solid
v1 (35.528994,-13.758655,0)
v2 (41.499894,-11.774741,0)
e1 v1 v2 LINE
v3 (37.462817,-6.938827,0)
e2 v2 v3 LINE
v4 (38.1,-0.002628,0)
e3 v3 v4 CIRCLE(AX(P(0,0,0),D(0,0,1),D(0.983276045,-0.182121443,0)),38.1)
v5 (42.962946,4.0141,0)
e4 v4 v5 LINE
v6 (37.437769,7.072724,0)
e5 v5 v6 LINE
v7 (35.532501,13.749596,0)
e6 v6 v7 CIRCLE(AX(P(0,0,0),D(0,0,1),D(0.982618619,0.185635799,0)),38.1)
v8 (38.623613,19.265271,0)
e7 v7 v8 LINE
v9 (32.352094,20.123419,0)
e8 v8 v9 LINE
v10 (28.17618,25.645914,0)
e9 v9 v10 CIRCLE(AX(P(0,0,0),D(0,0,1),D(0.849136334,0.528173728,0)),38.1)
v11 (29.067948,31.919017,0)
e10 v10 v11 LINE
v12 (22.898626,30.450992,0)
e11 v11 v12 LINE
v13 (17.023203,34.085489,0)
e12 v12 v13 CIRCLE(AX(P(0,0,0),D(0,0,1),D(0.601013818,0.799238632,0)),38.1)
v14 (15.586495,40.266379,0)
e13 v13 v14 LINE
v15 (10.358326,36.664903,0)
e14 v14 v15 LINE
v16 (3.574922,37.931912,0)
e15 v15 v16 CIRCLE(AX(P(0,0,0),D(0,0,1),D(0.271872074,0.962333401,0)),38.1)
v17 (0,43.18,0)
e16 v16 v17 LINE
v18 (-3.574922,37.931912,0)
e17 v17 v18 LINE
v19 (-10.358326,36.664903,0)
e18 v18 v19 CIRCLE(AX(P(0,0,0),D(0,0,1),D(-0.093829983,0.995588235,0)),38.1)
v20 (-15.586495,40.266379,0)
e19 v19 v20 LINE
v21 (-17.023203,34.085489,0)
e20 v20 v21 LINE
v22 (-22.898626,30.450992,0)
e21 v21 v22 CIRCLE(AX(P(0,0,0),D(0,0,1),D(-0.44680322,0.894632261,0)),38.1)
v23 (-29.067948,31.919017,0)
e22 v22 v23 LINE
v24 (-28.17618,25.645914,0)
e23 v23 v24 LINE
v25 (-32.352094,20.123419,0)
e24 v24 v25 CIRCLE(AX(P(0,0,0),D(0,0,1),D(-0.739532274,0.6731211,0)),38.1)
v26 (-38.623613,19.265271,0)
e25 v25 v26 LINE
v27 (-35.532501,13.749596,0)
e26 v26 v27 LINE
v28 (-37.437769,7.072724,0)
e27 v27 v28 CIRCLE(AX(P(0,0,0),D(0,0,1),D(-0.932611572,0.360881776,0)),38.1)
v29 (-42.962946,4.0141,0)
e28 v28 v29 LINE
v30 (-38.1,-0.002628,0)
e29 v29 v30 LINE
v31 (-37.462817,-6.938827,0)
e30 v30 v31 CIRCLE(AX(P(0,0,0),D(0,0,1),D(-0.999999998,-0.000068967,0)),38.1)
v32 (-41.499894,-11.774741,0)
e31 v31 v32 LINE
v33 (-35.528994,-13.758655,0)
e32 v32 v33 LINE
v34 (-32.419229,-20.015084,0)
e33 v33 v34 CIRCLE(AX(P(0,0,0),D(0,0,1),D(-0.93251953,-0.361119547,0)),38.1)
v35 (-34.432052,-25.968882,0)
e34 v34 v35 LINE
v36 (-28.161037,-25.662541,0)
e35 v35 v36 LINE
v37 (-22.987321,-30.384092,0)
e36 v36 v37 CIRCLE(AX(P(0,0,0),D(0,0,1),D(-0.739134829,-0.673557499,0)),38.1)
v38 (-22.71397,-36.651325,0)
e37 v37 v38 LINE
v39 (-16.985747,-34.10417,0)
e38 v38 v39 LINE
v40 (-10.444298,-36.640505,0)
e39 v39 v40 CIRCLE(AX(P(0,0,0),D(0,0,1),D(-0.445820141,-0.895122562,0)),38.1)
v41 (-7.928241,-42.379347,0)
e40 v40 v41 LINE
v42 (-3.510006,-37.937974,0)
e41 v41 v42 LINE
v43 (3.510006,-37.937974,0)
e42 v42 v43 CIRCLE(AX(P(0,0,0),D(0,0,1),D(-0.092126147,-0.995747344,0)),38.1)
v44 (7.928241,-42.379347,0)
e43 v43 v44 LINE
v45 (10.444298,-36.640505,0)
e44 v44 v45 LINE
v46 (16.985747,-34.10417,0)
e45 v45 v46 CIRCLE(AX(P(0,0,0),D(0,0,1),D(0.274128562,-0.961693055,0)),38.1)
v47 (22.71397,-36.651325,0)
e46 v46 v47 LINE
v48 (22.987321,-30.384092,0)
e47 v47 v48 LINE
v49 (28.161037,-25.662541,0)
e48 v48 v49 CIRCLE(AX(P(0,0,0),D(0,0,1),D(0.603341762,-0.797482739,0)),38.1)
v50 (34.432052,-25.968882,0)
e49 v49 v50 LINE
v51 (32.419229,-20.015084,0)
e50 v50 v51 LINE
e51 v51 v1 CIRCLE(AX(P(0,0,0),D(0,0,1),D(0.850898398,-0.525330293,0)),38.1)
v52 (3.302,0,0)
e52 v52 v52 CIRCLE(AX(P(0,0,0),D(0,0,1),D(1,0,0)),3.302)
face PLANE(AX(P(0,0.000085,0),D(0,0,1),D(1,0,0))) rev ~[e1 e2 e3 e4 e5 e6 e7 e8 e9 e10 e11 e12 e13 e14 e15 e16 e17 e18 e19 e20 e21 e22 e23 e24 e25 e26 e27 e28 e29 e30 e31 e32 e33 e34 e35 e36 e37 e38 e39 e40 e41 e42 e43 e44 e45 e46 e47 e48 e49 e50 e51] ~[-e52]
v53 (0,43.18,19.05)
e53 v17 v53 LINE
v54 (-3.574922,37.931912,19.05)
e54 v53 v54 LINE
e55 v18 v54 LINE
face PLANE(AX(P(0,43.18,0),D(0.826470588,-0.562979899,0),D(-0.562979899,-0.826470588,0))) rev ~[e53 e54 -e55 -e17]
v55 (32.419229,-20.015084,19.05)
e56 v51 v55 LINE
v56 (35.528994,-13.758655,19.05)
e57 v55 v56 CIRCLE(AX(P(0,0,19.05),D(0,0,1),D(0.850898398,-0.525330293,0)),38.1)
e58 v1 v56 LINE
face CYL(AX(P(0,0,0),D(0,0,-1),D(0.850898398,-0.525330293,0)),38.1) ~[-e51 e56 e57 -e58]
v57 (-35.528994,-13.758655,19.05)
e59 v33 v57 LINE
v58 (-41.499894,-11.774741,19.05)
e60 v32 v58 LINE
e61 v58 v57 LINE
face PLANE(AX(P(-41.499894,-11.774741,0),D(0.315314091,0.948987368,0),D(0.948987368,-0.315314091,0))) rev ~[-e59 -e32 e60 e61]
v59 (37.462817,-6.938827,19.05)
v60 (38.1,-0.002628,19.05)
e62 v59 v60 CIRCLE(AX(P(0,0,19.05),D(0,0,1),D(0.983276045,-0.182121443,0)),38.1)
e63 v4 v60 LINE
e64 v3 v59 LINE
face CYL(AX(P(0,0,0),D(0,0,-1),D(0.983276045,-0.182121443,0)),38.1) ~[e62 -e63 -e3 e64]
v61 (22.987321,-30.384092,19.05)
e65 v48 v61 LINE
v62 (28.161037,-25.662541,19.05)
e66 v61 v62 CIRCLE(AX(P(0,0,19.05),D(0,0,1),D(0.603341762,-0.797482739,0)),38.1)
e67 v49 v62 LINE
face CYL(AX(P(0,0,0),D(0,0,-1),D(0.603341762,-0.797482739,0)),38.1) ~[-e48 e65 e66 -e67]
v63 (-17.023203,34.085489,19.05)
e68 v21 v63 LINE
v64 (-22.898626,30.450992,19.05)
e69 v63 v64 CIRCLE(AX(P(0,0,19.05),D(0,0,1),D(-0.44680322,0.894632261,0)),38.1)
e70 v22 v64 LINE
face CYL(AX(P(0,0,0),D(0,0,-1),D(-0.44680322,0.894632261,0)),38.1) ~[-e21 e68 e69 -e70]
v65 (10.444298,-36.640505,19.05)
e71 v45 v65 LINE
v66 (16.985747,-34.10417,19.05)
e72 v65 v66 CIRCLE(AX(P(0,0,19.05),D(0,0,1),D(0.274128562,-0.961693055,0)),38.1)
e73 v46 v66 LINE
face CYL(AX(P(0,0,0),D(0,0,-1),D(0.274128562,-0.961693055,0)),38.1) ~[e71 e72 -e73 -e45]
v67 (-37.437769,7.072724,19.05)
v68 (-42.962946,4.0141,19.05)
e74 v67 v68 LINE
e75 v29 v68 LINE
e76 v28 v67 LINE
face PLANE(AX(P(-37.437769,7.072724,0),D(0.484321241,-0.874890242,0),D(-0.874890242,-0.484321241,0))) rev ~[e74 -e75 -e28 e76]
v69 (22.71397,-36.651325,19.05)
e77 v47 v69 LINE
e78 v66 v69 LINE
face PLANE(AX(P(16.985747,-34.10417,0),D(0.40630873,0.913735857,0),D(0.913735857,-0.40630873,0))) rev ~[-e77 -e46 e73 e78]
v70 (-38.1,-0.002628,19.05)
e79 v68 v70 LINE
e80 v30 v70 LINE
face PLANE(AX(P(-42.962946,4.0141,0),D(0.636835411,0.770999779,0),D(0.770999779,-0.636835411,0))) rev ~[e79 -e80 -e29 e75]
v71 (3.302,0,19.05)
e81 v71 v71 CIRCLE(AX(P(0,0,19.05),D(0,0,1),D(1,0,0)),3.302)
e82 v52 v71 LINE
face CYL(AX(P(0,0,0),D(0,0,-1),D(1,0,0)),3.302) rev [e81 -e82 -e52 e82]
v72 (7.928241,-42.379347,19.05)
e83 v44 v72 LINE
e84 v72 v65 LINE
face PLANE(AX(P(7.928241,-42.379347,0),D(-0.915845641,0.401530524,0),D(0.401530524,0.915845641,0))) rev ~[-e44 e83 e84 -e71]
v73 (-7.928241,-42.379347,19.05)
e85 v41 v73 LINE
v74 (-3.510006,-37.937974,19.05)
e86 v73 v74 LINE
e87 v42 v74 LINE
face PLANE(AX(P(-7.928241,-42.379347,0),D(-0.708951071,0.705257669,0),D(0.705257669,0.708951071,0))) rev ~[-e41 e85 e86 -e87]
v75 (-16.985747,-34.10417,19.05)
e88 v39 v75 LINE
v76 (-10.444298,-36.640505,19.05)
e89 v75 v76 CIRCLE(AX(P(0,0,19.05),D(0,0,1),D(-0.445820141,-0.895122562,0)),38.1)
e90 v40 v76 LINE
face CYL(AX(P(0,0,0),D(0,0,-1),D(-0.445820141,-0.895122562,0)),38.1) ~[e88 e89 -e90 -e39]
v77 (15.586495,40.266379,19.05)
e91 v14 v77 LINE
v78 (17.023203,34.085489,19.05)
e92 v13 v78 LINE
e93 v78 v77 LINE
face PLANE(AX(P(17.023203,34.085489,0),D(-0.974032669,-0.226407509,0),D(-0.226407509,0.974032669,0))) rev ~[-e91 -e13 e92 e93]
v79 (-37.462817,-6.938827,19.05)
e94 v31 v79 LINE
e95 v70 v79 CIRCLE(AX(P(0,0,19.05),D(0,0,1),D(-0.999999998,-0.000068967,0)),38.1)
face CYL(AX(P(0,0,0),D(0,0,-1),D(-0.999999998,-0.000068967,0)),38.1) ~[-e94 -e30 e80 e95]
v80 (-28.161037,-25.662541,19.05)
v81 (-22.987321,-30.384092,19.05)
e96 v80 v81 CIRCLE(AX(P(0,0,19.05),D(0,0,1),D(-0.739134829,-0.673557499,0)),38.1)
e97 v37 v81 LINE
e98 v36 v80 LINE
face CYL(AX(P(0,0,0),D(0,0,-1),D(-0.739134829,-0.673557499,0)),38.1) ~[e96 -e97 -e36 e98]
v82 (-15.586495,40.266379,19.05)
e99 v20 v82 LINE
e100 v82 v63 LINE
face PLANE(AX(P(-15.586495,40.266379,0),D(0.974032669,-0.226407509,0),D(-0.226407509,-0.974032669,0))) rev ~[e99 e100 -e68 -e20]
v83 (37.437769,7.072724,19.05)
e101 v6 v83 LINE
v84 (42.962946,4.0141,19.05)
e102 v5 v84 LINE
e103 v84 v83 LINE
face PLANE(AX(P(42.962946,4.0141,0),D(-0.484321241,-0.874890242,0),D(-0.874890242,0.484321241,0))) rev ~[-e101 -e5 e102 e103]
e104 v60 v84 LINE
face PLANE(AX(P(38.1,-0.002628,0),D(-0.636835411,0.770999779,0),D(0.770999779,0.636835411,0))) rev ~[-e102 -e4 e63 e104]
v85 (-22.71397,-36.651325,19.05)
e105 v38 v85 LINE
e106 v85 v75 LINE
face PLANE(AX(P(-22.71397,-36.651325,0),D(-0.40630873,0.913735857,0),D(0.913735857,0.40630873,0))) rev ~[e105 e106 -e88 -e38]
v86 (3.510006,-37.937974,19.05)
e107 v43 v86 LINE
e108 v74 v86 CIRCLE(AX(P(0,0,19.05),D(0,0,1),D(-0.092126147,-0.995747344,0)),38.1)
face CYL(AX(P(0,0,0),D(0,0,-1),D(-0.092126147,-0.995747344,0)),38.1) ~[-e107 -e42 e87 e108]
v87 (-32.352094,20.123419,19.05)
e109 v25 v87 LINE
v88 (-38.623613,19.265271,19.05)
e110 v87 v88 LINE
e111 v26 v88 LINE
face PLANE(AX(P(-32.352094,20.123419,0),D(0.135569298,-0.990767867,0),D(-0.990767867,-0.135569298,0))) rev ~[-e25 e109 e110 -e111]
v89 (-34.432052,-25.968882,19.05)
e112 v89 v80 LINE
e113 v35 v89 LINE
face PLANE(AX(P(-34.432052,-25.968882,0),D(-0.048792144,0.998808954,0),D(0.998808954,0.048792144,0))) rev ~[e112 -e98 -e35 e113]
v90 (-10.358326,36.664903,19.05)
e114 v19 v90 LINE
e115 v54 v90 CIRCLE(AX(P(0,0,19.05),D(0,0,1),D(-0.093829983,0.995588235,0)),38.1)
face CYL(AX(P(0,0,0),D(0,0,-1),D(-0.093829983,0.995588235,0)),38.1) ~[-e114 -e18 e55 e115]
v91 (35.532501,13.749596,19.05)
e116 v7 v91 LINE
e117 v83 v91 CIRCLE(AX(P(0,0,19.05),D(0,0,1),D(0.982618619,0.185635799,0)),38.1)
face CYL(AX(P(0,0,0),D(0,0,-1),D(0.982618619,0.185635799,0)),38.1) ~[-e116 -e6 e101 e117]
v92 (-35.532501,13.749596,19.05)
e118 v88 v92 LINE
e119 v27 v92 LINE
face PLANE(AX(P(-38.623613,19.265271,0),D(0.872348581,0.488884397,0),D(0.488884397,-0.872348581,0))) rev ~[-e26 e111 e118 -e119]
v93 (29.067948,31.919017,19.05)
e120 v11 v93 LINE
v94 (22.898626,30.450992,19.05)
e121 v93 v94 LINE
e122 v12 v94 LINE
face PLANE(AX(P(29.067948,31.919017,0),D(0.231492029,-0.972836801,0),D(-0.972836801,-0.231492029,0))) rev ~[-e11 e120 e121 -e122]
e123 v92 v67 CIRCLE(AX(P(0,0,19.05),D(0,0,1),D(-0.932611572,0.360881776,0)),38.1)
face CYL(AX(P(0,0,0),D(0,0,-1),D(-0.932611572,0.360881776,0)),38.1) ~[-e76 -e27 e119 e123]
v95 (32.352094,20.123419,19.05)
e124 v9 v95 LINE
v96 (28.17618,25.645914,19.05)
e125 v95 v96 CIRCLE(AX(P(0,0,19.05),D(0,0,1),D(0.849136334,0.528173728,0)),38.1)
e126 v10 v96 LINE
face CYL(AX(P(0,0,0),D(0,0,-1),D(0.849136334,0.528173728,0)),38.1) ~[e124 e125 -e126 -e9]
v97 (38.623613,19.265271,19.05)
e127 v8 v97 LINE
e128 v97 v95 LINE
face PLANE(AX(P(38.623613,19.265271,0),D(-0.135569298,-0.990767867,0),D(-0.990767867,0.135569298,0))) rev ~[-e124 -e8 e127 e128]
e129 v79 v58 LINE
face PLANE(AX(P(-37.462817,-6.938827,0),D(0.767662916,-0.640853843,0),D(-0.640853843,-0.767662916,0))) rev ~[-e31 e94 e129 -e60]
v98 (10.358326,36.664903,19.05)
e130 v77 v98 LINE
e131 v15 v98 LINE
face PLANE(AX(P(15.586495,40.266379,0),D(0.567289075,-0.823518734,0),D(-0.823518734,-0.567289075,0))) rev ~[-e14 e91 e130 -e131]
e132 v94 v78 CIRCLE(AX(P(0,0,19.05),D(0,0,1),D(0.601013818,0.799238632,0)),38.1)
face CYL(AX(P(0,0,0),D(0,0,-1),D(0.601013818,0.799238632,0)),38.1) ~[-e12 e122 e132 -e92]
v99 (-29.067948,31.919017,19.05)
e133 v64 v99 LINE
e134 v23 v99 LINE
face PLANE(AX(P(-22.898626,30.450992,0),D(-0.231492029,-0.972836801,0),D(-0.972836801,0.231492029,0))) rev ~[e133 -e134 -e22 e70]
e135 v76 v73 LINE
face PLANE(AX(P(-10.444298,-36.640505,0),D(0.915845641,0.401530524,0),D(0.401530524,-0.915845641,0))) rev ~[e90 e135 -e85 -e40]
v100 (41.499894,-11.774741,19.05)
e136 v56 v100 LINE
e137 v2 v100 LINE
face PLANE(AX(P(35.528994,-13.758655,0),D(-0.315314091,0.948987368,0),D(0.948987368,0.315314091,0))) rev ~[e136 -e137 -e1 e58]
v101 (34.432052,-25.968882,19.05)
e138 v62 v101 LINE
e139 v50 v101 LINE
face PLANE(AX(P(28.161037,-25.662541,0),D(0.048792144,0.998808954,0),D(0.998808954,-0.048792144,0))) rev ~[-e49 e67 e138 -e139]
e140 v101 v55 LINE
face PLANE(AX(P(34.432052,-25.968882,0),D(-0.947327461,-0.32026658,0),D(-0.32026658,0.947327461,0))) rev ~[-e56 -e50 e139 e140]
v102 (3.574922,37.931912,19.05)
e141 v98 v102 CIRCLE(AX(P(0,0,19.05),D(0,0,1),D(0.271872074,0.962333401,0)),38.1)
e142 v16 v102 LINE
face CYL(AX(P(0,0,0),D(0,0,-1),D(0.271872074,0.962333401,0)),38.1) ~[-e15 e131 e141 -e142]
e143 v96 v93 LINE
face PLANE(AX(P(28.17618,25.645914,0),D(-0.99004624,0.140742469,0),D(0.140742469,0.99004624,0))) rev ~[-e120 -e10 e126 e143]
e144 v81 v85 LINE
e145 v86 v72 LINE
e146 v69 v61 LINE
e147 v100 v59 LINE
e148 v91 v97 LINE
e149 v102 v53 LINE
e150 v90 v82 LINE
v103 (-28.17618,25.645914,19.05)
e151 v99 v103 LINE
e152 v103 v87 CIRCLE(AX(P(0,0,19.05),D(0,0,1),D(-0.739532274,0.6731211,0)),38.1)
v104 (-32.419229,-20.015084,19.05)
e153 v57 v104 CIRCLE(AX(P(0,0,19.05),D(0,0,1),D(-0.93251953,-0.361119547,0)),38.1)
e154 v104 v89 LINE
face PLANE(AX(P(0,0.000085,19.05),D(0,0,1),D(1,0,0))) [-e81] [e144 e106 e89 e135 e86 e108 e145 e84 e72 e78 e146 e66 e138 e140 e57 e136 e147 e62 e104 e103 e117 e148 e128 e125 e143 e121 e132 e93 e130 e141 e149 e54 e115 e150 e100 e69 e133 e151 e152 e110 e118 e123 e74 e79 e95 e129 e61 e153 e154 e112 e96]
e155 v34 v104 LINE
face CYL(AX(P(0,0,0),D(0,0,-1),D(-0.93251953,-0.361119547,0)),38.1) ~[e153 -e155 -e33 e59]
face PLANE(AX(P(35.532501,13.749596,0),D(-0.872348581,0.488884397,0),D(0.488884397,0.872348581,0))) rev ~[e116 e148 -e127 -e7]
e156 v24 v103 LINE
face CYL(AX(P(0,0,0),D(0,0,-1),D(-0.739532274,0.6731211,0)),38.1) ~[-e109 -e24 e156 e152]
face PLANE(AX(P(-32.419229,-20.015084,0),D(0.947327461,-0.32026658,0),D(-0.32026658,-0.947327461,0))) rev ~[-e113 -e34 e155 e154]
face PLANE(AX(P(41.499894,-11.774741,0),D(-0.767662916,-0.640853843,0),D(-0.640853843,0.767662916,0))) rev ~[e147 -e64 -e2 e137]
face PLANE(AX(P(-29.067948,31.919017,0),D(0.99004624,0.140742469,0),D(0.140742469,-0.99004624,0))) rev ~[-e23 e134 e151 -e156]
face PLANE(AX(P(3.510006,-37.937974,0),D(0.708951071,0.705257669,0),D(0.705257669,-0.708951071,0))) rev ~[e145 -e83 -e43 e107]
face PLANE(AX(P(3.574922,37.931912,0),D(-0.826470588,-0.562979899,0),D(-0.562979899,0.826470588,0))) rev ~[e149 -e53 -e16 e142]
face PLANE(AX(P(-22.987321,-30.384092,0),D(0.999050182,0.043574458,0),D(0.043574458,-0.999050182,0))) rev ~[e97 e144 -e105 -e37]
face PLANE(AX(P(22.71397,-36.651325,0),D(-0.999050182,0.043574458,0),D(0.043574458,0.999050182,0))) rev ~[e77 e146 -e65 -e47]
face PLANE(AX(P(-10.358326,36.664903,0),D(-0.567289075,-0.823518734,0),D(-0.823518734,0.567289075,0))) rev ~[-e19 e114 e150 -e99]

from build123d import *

# Parameters (mm, degrees)
F0_R     = 3.302
F1_DEPTH = 19.05


with BuildPart() as f1:
    # F0 (on Top) → F1 (new body)
    with BuildSketch(Plane.XY):
        with BuildLine():
            ThreePointArc((10.3583260114, 36.6649025942), (6.9953685106, 37.4523005889), (3.5749223592, 37.9319117647))
            ThreePointArc((3.5749223592, 37.9319117647), (1.7894359118, 38.0579547417), (0, 38.1))
            ThreePointArc((0, 38.1), (-1.7894359118, 38.0579547417), (-3.5749223592, 37.9319117647))
            ThreePointArc((-3.5749223592, 37.9319117647), (-6.9953685106, 37.4523005889), (-10.3583260114, 36.6649025942))
            ThreePointArc((-10.3583260114, 36.6649025942), (-12.0685716334, 36.1380627418), (-13.7521919191, 35.5314961326))
            ThreePointArc((-13.7521919191, 35.5314961326), (-15.4046733923, 34.8468942329), (-17.0232026859, 34.0854891459))
            ThreePointArc((-17.0232026859, 34.0854891459), (-20.043465356, 32.4016897171), (-22.8986264736, 30.450991866))
            ThreePointArc((-22.8986264736, 30.450991866), (-24.3017474593, 29.3433990946), (-25.6513716497, 28.1712110583))
            ThreePointArc((-25.6513716497, 28.1712110583), (-26.9433776908, 26.9381587829), (-28.1761796584, 25.6459139017))
            ThreePointArc((-28.1761796584, 25.6459139017), (-30.3898416418, 22.9797198631), (-32.3520943167, 20.1234190266))
            ThreePointArc((-32.3520943167, 20.1234190266), (-33.2587932077, 18.5866262234), (-34.0925451571, 17.0090671323))
            ThreePointArc((-34.0925451571, 17.0090671323), (-34.850649889, 15.3961749248), (-35.5325008857, 13.7495956597))
            ThreePointArc((-35.5325008857, 13.7495956597), (-36.6375523151, 10.4546525701), (-37.4377693794, 7.0727239376))
            ThreePointArc((-37.4377693794, 7.0727239376), (-37.7272799225, 5.3162345369), (-37.9344264404, 3.548139039))
            ThreePointArc((-37.9344264404, 3.548139039), (-38.0586453199, 1.7746876952), (-38.0999999094, -0.002627639))
            ThreePointArc((-38.0999999094, -0.002627639), (-37.9402497555, -3.4853189945), (-37.4628173003, -6.938826985))
            ThreePointArc((-37.4628173003, -6.938826985), (-37.0988170111, -8.6768529074), (-36.6542295707, -10.3960307125))
            ThreePointArc((-36.6542295707, -10.3960307125), (-36.1307521934, -12.0904402708), (-35.5289940754, -13.7586547304))
            ThreePointArc((-35.5289940754, -13.7586547304), (-34.1178249717, -16.9583023679), (-32.4192289635, -20.015084147))
            ThreePointArc((-32.4192289635, -20.015084147), (-31.4537756655, -21.5004650271), (-30.4203176662, -22.939360782))
            ThreePointArc((-30.4203176662, -22.939360782), (-29.3223073038, -24.3271924887), (-28.1610369919, -25.6625407071))
            ThreePointArc((-28.1610369919, -25.6625407071), (-25.6829106001, -28.1424608573), (-22.9873211216, -30.3840923454))
            ThreePointArc((-22.9873211216, -30.3840923454), (-21.5527887081, -31.4179454915), (-20.0718320683, -32.3841250835))
            ThreePointArc((-20.0718320683, -32.3841250835), (-18.5487381489, -33.279938598), (-16.9857473781, -34.1041696279))
            ThreePointArc((-16.9857473781, -34.1041696279), (-13.7735289525, -35.5232304302), (-10.4442981946, -36.6405053898))
            ThreePointArc((-10.4442981946, -36.6405053898), (-8.7349433821, -37.0851825412), (-7.0068164437, -37.4501605247))
            ThreePointArc((-7.0068164437, -37.4501605247), (-5.2640649753, -37.7345944716), (-3.5100061972, -37.9379738059))
            ThreePointArc((-3.5100061972, -37.9379738059), (0, -38.1), (3.5100061972, -37.9379738059))
            ThreePointArc((3.5100061972, -37.9379738059), (5.2640649753, -37.7345944716), (7.0068164437, -37.4501605247))
            ThreePointArc((7.0068164437, -37.4501605247), (8.7349433821, -37.0851825412), (10.4442981946, -36.6405053898))
            ThreePointArc((10.4442981946, -36.6405053898), (13.7735289525, -35.5232304302), (16.9857473781, -34.1041696279))
            ThreePointArc((16.9857473781, -34.1041696279), (18.5487381489, -33.279938598), (20.0718320683, -32.3841250835))
            ThreePointArc((20.0718320683, -32.3841250835), (21.5527887081, -31.4179454915), (22.9873211216, -30.3840923454))
            ThreePointArc((22.9873211216, -30.3840923454), (25.6829106001, -28.1424608573), (28.1610369919, -25.6625407071))
            ThreePointArc((28.1610369919, -25.6625407071), (29.3223073038, -24.3271924887), (30.4203176662, -22.939360782))
            ThreePointArc((30.4203176662, -22.939360782), (31.4537756655, -21.5004650271), (32.4192289635, -20.015084147))
            ThreePointArc((32.4192289635, -20.015084147), (34.1178249717, -16.9583023679), (35.5289940754, -13.7586547304))
            ThreePointArc((35.5289940754, -13.7586547304), (36.1307521934, -12.0904402708), (36.6542295707, -10.3960307125))
            ThreePointArc((36.6542295707, -10.3960307125), (37.0988170111, -8.6768529074), (37.4628173003, -6.938826985))
            ThreePointArc((37.4628173003, -6.938826985), (37.9402497555, -3.4853189945), (38.0999999094, -0.002627639))
            ThreePointArc((38.0999999094, -0.002627639), (38.0999999773, -0.0013138195), (38.1, 0))
            ThreePointArc((38.1, 0), (38.0585840999, 1.7760000875), (37.9344264404, 3.548139039))
            ThreePointArc((37.9344264404, 3.548139039), (37.7272799225, 5.3162345369), (37.4377693794, 7.0727239376))
            ThreePointArc((37.4377693794, 7.0727239376), (36.6375523151, 10.4546525701), (35.5325008857, 13.7495956597))
            ThreePointArc((35.5325008857, 13.7495956597), (34.850649889, 15.3961749248), (34.0925451571, 17.0090671323))
            ThreePointArc((34.0925451571, 17.0090671323), (33.2587932077, 18.5866262234), (32.3520943167, 20.1234190266))
            ThreePointArc((32.3520943167, 20.1234190266), (30.3898416418, 22.9797198631), (28.1761796584, 25.6459139017))
            ThreePointArc((28.1761796584, 25.6459139017), (26.9433776908, 26.9381587829), (25.6513716497, 28.1712110583))
            ThreePointArc((25.6513716497, 28.1712110583), (24.3017474593, 29.3433990946), (22.8986264736, 30.450991866))
            ThreePointArc((22.8986264736, 30.450991866), (20.043465356, 32.4016897171), (17.0232026859, 34.0854891459))
            ThreePointArc((17.0232026859, 34.0854891459), (15.4046733923, 34.8468942329), (13.7521919191, 35.5314961326))
            ThreePointArc((13.7521919191, 35.5314961326), (12.0685716334, 36.1380627418), (10.3583260114, 36.6649025942))
        make_face()
        Circle(F0_R, mode=Mode.SUBTRACT)
        with BuildLine():
            ThreePointArc((0, 38.1), (1.7894359118, 38.0579547417), (3.5749223592, 37.9319117647))
            Line((3.5749223592, 37.9319117647), (0, 43.18))
            Line((0, 43.18), (0, 38.1))
        make_face()
        with BuildLine():
            ThreePointArc((-3.5749223592, 37.9319117647), (-1.7894359118, 38.0579547417), (0, 38.1))
            Line((0, 38.1), (0, 43.18))
            Line((0, 43.18), (-3.5749223592, 37.9319117647))
        make_face()
        with BuildLine():
            Line((15.5864953389, 40.2663790638), (10.3583260114, 36.6649025942))
            ThreePointArc((10.3583260114, 36.6649025942), (12.0685716334, 36.1380627418), (13.7521919191, 35.5314961326))
            Line((13.7521919191, 35.5314961326), (15.5864953389, 40.2663790638))
        make_face()
        with BuildLine():
            Line((15.5864953389, 40.2663790638), (13.7521919191, 35.5314961326))
            ThreePointArc((13.7521919191, 35.5314961326), (15.4046733923, 34.8468942329), (17.0232026859, 34.0854891459))
            Line((17.0232026859, 34.0854891459), (15.5864953389, 40.2663790638))
        make_face()
        with BuildLine():
            ThreePointArc((-13.7521919191, 35.5314961326), (-12.0685716334, 36.1380627418), (-10.3583260114, 36.6649025942))
            Line((-10.3583260114, 36.6649025942), (-15.5864953389, 40.2663790638))
            Line((-15.5864953389, 40.2663790638), (-13.7521919191, 35.5314961326))
        make_face()
        with BuildLine():
            ThreePointArc((-17.0232026859, 34.0854891459), (-15.4046733923, 34.8468942329), (-13.7521919191, 35.5314961326))
            Line((-13.7521919191, 35.5314961326), (-15.5864953389, 40.2663790638))
            Line((-15.5864953389, 40.2663790638), (-17.0232026859, 34.0854891459))
        make_face()
        with BuildLine():
            Line((29.0679481145, 31.9190169075), (22.8986264736, 30.450991866))
            ThreePointArc((22.8986264736, 30.450991866), (24.3017474593, 29.3433990946), (25.6513716497, 28.1712110583))
            Line((25.6513716497, 28.1712110583), (29.0679481145, 31.9190169075))
        make_face()
        with BuildLine():
            Line((29.0679481145, 31.9190169075), (25.6513716497, 28.1712110583))
            ThreePointArc((25.6513716497, 28.1712110583), (26.9433776908, 26.9381587829), (28.1761796584, 25.6459139017))
            Line((28.1761796584, 25.6459139017), (29.0679481145, 31.9190169075))
        make_face()
        with BuildLine():
            ThreePointArc((-25.6513716497, 28.1712110583), (-24.3017474593, 29.3433990946), (-22.8986264736, 30.450991866))
            Line((-22.8986264736, 30.450991866), (-29.0679481145, 31.9190169075))
            Line((-29.0679481145, 31.9190169075), (-25.6513716497, 28.1712110583))
        make_face()
        with BuildLine():
            ThreePointArc((-28.1761796584, 25.6459139017), (-26.9433776908, 26.9381587829), (-25.6513716497, 28.1712110583))
            Line((-25.6513716497, 28.1712110583), (-29.0679481145, 31.9190169075))
            Line((-29.0679481145, 31.9190169075), (-28.1761796584, 25.6459139017))
        make_face()
        with BuildLine():
            Line((38.6236134262, 19.2652710447), (32.3520943167, 20.1234190266))
            ThreePointArc((32.3520943167, 20.1234190266), (33.2587932077, 18.5866262234), (34.0925451571, 17.0090671323))
            Line((34.0925451571, 17.0090671323), (38.6236134262, 19.2652710447))
        make_face()
        with BuildLine():
            Line((38.6236134262, 19.2652710447), (34.0925451571, 17.0090671323))
            ThreePointArc((34.0925451571, 17.0090671323), (34.850649889, 15.3961749248), (35.5325008857, 13.7495956597))
            Line((35.5325008857, 13.7495956597), (38.6236134262, 19.2652710447))
        make_face()
        with BuildLine():
            ThreePointArc((-34.0925451571, 17.0090671323), (-33.2587932077, 18.5866262234), (-32.3520943167, 20.1234190266))
            Line((-32.3520943167, 20.1234190266), (-38.6236134262, 19.2652710447))
            Line((-38.6236134262, 19.2652710447), (-34.0925451571, 17.0090671323))
        make_face()
        with BuildLine():
            ThreePointArc((-35.5325008857, 13.7495956597), (-34.850649889, 15.3961749248), (-34.0925451571, 17.0090671323))
            Line((-34.0925451571, 17.0090671323), (-38.6236134262, 19.2652710447))
            Line((-38.6236134262, 19.2652710447), (-35.5325008857, 13.7495956597))
        make_face()
        with BuildLine():
            Line((42.9629457239, 4.014099971), (37.4377693794, 7.0727239376))
            ThreePointArc((37.4377693794, 7.0727239376), (37.7272799225, 5.3162345369), (37.9344264404, 3.548139039))
            Line((37.9344264404, 3.548139039), (42.9629457239, 4.014099971))
        make_face()
        with BuildLine():
            Line((42.9629457239, 4.014099971), (37.9344264404, 3.548139039))
            ThreePointArc((37.9344264404, 3.548139039), (38.0585840999, 1.7760000875), (38.1, 0))
            ThreePointArc((38.1, 0), (38.0999999773, -0.0013138195), (38.0999999094, -0.002627639))
            Line((38.0999999094, -0.002627639), (42.9629457239, 4.014099971))
        make_face()
        with BuildLine():
            ThreePointArc((-37.9344264404, 3.548139039), (-37.7272799225, 5.3162345369), (-37.4377693794, 7.0727239376))
            Line((-37.4377693794, 7.0727239376), (-42.9629457239, 4.014099971))
            Line((-42.9629457239, 4.014099971), (-37.9344264404, 3.548139039))
        make_face()
        with BuildLine():
            ThreePointArc((-38.0999999094, -0.002627639), (-38.0586453199, 1.7746876952), (-37.9344264404, 3.548139039))
            Line((-37.9344264404, 3.548139039), (-42.9629457239, 4.014099971))
            Line((-42.9629457239, 4.014099971), (-38.0999999094, -0.002627639))
        make_face()
        with BuildLine():
            Line((41.4998941356, -11.7747411505), (37.4628173003, -6.938826985))
            ThreePointArc((37.4628173003, -6.938826985), (37.0988170111, -8.6768529074), (36.6542295707, -10.3960307125))
            Line((36.6542295707, -10.3960307125), (41.4998941356, -11.7747411505))
        make_face()
        with BuildLine():
            Line((41.4998941356, -11.7747411505), (36.6542295707, -10.3960307125))
            ThreePointArc((36.6542295707, -10.3960307125), (36.1307521934, -12.0904402708), (35.5289940754, -13.7586547304))
            Line((35.5289940754, -13.7586547304), (41.4998941356, -11.7747411505))
        make_face()
        with BuildLine():
            ThreePointArc((-36.6542295707, -10.3960307125), (-37.0988170111, -8.6768529074), (-37.4628173003, -6.938826985))
            Line((-37.4628173003, -6.938826985), (-41.4998941356, -11.7747411505))
            Line((-41.4998941356, -11.7747411505), (-36.6542295707, -10.3960307125))
        make_face()
        with BuildLine():
            ThreePointArc((-35.5289940754, -13.7586547304), (-36.1307521934, -12.0904402708), (-36.6542295707, -10.3960307125))
            Line((-36.6542295707, -10.3960307125), (-41.4998941356, -11.7747411505))
            Line((-41.4998941356, -11.7747411505), (-35.5289940754, -13.7586547304))
        make_face()
        with BuildLine():
            Line((34.4320518855, -25.9688818373), (32.4192289635, -20.015084147))
            ThreePointArc((32.4192289635, -20.015084147), (31.4537756655, -21.5004650271), (30.4203176662, -22.939360782))
            Line((30.4203176662, -22.939360782), (34.4320518855, -25.9688818373))
        make_face()
        with BuildLine():
            Line((34.4320518855, -25.9688818373), (30.4203176662, -22.939360782))
            ThreePointArc((30.4203176662, -22.939360782), (29.3223073038, -24.3271924887), (28.1610369919, -25.6625407071))
            Line((28.1610369919, -25.6625407071), (34.4320518855, -25.9688818373))
        make_face()
        with BuildLine():
            ThreePointArc((-30.4203176662, -22.939360782), (-31.4537756655, -21.5004650271), (-32.4192289635, -20.015084147))
            Line((-32.4192289635, -20.015084147), (-34.4320518855, -25.9688818373))
            Line((-34.4320518855, -25.9688818373), (-30.4203176662, -22.939360782))
        make_face()
        with BuildLine():
            ThreePointArc((-28.1610369919, -25.6625407071), (-29.3223073038, -24.3271924887), (-30.4203176662, -22.939360782))
            Line((-30.4203176662, -22.939360782), (-34.4320518855, -25.9688818373))
            Line((-34.4320518855, -25.9688818373), (-28.1610369919, -25.6625407071))
        make_face()
        with BuildLine():
            Line((22.7139702337, -36.6513247372), (22.9873211216, -30.3840923454))
            ThreePointArc((22.9873211216, -30.3840923454), (21.5527887081, -31.4179454915), (20.0718320683, -32.3841250835))
            Line((20.0718320683, -32.3841250835), (22.7139702337, -36.6513247372))
        make_face()
        with BuildLine():
            Line((22.7139702337, -36.6513247372), (20.0718320683, -32.3841250835))
            ThreePointArc((20.0718320683, -32.3841250835), (18.5487381489, -33.279938598), (16.9857473781, -34.1041696279))
            Line((16.9857473781, -34.1041696279), (22.7139702337, -36.6513247372))
        make_face()
        with BuildLine():
            ThreePointArc((-20.0718320683, -32.3841250835), (-21.5527887081, -31.4179454915), (-22.9873211216, -30.3840923454))
            Line((-22.9873211216, -30.3840923454), (-22.7139702337, -36.6513247372))
            Line((-22.7139702337, -36.6513247372), (-20.0718320683, -32.3841250835))
        make_face()
        with BuildLine():
            ThreePointArc((-16.9857473781, -34.1041696279), (-18.5487381489, -33.279938598), (-20.0718320683, -32.3841250835))
            Line((-20.0718320683, -32.3841250835), (-22.7139702337, -36.6513247372))
            Line((-22.7139702337, -36.6513247372), (-16.9857473781, -34.1041696279))
        make_face()
        with BuildLine():
            Line((7.9282410393, -42.3793467431), (10.4442981946, -36.6405053898))
            ThreePointArc((10.4442981946, -36.6405053898), (8.7349433821, -37.0851825412), (7.0068164437, -37.4501605247))
            Line((7.0068164437, -37.4501605247), (7.9282410393, -42.3793467431))
        make_face()
        with BuildLine():
            Line((7.9282410393, -42.3793467431), (7.0068164437, -37.4501605247))
            ThreePointArc((7.0068164437, -37.4501605247), (5.2640649753, -37.7345944716), (3.5100061972, -37.9379738059))
            Line((3.5100061972, -37.9379738059), (7.9282410393, -42.3793467431))
        make_face()
        with BuildLine():
            ThreePointArc((-7.0068164437, -37.4501605247), (-8.7349433821, -37.0851825412), (-10.4442981946, -36.6405053898))
            Line((-10.4442981946, -36.6405053898), (-7.9282410393, -42.3793467431))
            Line((-7.9282410393, -42.3793467431), (-7.0068164437, -37.4501605247))
        make_face()
        with BuildLine():
            ThreePointArc((-3.5100061972, -37.9379738059), (-5.2640649753, -37.7345944716), (-7.0068164437, -37.4501605247))
            Line((-7.0068164437, -37.4501605247), (-7.9282410393, -42.3793467431))
            Line((-7.9282410393, -42.3793467431), (-3.5100061972, -37.9379738059))
        make_face()
    extrude(amount=F1_DEPTH)


solid = f1.part
